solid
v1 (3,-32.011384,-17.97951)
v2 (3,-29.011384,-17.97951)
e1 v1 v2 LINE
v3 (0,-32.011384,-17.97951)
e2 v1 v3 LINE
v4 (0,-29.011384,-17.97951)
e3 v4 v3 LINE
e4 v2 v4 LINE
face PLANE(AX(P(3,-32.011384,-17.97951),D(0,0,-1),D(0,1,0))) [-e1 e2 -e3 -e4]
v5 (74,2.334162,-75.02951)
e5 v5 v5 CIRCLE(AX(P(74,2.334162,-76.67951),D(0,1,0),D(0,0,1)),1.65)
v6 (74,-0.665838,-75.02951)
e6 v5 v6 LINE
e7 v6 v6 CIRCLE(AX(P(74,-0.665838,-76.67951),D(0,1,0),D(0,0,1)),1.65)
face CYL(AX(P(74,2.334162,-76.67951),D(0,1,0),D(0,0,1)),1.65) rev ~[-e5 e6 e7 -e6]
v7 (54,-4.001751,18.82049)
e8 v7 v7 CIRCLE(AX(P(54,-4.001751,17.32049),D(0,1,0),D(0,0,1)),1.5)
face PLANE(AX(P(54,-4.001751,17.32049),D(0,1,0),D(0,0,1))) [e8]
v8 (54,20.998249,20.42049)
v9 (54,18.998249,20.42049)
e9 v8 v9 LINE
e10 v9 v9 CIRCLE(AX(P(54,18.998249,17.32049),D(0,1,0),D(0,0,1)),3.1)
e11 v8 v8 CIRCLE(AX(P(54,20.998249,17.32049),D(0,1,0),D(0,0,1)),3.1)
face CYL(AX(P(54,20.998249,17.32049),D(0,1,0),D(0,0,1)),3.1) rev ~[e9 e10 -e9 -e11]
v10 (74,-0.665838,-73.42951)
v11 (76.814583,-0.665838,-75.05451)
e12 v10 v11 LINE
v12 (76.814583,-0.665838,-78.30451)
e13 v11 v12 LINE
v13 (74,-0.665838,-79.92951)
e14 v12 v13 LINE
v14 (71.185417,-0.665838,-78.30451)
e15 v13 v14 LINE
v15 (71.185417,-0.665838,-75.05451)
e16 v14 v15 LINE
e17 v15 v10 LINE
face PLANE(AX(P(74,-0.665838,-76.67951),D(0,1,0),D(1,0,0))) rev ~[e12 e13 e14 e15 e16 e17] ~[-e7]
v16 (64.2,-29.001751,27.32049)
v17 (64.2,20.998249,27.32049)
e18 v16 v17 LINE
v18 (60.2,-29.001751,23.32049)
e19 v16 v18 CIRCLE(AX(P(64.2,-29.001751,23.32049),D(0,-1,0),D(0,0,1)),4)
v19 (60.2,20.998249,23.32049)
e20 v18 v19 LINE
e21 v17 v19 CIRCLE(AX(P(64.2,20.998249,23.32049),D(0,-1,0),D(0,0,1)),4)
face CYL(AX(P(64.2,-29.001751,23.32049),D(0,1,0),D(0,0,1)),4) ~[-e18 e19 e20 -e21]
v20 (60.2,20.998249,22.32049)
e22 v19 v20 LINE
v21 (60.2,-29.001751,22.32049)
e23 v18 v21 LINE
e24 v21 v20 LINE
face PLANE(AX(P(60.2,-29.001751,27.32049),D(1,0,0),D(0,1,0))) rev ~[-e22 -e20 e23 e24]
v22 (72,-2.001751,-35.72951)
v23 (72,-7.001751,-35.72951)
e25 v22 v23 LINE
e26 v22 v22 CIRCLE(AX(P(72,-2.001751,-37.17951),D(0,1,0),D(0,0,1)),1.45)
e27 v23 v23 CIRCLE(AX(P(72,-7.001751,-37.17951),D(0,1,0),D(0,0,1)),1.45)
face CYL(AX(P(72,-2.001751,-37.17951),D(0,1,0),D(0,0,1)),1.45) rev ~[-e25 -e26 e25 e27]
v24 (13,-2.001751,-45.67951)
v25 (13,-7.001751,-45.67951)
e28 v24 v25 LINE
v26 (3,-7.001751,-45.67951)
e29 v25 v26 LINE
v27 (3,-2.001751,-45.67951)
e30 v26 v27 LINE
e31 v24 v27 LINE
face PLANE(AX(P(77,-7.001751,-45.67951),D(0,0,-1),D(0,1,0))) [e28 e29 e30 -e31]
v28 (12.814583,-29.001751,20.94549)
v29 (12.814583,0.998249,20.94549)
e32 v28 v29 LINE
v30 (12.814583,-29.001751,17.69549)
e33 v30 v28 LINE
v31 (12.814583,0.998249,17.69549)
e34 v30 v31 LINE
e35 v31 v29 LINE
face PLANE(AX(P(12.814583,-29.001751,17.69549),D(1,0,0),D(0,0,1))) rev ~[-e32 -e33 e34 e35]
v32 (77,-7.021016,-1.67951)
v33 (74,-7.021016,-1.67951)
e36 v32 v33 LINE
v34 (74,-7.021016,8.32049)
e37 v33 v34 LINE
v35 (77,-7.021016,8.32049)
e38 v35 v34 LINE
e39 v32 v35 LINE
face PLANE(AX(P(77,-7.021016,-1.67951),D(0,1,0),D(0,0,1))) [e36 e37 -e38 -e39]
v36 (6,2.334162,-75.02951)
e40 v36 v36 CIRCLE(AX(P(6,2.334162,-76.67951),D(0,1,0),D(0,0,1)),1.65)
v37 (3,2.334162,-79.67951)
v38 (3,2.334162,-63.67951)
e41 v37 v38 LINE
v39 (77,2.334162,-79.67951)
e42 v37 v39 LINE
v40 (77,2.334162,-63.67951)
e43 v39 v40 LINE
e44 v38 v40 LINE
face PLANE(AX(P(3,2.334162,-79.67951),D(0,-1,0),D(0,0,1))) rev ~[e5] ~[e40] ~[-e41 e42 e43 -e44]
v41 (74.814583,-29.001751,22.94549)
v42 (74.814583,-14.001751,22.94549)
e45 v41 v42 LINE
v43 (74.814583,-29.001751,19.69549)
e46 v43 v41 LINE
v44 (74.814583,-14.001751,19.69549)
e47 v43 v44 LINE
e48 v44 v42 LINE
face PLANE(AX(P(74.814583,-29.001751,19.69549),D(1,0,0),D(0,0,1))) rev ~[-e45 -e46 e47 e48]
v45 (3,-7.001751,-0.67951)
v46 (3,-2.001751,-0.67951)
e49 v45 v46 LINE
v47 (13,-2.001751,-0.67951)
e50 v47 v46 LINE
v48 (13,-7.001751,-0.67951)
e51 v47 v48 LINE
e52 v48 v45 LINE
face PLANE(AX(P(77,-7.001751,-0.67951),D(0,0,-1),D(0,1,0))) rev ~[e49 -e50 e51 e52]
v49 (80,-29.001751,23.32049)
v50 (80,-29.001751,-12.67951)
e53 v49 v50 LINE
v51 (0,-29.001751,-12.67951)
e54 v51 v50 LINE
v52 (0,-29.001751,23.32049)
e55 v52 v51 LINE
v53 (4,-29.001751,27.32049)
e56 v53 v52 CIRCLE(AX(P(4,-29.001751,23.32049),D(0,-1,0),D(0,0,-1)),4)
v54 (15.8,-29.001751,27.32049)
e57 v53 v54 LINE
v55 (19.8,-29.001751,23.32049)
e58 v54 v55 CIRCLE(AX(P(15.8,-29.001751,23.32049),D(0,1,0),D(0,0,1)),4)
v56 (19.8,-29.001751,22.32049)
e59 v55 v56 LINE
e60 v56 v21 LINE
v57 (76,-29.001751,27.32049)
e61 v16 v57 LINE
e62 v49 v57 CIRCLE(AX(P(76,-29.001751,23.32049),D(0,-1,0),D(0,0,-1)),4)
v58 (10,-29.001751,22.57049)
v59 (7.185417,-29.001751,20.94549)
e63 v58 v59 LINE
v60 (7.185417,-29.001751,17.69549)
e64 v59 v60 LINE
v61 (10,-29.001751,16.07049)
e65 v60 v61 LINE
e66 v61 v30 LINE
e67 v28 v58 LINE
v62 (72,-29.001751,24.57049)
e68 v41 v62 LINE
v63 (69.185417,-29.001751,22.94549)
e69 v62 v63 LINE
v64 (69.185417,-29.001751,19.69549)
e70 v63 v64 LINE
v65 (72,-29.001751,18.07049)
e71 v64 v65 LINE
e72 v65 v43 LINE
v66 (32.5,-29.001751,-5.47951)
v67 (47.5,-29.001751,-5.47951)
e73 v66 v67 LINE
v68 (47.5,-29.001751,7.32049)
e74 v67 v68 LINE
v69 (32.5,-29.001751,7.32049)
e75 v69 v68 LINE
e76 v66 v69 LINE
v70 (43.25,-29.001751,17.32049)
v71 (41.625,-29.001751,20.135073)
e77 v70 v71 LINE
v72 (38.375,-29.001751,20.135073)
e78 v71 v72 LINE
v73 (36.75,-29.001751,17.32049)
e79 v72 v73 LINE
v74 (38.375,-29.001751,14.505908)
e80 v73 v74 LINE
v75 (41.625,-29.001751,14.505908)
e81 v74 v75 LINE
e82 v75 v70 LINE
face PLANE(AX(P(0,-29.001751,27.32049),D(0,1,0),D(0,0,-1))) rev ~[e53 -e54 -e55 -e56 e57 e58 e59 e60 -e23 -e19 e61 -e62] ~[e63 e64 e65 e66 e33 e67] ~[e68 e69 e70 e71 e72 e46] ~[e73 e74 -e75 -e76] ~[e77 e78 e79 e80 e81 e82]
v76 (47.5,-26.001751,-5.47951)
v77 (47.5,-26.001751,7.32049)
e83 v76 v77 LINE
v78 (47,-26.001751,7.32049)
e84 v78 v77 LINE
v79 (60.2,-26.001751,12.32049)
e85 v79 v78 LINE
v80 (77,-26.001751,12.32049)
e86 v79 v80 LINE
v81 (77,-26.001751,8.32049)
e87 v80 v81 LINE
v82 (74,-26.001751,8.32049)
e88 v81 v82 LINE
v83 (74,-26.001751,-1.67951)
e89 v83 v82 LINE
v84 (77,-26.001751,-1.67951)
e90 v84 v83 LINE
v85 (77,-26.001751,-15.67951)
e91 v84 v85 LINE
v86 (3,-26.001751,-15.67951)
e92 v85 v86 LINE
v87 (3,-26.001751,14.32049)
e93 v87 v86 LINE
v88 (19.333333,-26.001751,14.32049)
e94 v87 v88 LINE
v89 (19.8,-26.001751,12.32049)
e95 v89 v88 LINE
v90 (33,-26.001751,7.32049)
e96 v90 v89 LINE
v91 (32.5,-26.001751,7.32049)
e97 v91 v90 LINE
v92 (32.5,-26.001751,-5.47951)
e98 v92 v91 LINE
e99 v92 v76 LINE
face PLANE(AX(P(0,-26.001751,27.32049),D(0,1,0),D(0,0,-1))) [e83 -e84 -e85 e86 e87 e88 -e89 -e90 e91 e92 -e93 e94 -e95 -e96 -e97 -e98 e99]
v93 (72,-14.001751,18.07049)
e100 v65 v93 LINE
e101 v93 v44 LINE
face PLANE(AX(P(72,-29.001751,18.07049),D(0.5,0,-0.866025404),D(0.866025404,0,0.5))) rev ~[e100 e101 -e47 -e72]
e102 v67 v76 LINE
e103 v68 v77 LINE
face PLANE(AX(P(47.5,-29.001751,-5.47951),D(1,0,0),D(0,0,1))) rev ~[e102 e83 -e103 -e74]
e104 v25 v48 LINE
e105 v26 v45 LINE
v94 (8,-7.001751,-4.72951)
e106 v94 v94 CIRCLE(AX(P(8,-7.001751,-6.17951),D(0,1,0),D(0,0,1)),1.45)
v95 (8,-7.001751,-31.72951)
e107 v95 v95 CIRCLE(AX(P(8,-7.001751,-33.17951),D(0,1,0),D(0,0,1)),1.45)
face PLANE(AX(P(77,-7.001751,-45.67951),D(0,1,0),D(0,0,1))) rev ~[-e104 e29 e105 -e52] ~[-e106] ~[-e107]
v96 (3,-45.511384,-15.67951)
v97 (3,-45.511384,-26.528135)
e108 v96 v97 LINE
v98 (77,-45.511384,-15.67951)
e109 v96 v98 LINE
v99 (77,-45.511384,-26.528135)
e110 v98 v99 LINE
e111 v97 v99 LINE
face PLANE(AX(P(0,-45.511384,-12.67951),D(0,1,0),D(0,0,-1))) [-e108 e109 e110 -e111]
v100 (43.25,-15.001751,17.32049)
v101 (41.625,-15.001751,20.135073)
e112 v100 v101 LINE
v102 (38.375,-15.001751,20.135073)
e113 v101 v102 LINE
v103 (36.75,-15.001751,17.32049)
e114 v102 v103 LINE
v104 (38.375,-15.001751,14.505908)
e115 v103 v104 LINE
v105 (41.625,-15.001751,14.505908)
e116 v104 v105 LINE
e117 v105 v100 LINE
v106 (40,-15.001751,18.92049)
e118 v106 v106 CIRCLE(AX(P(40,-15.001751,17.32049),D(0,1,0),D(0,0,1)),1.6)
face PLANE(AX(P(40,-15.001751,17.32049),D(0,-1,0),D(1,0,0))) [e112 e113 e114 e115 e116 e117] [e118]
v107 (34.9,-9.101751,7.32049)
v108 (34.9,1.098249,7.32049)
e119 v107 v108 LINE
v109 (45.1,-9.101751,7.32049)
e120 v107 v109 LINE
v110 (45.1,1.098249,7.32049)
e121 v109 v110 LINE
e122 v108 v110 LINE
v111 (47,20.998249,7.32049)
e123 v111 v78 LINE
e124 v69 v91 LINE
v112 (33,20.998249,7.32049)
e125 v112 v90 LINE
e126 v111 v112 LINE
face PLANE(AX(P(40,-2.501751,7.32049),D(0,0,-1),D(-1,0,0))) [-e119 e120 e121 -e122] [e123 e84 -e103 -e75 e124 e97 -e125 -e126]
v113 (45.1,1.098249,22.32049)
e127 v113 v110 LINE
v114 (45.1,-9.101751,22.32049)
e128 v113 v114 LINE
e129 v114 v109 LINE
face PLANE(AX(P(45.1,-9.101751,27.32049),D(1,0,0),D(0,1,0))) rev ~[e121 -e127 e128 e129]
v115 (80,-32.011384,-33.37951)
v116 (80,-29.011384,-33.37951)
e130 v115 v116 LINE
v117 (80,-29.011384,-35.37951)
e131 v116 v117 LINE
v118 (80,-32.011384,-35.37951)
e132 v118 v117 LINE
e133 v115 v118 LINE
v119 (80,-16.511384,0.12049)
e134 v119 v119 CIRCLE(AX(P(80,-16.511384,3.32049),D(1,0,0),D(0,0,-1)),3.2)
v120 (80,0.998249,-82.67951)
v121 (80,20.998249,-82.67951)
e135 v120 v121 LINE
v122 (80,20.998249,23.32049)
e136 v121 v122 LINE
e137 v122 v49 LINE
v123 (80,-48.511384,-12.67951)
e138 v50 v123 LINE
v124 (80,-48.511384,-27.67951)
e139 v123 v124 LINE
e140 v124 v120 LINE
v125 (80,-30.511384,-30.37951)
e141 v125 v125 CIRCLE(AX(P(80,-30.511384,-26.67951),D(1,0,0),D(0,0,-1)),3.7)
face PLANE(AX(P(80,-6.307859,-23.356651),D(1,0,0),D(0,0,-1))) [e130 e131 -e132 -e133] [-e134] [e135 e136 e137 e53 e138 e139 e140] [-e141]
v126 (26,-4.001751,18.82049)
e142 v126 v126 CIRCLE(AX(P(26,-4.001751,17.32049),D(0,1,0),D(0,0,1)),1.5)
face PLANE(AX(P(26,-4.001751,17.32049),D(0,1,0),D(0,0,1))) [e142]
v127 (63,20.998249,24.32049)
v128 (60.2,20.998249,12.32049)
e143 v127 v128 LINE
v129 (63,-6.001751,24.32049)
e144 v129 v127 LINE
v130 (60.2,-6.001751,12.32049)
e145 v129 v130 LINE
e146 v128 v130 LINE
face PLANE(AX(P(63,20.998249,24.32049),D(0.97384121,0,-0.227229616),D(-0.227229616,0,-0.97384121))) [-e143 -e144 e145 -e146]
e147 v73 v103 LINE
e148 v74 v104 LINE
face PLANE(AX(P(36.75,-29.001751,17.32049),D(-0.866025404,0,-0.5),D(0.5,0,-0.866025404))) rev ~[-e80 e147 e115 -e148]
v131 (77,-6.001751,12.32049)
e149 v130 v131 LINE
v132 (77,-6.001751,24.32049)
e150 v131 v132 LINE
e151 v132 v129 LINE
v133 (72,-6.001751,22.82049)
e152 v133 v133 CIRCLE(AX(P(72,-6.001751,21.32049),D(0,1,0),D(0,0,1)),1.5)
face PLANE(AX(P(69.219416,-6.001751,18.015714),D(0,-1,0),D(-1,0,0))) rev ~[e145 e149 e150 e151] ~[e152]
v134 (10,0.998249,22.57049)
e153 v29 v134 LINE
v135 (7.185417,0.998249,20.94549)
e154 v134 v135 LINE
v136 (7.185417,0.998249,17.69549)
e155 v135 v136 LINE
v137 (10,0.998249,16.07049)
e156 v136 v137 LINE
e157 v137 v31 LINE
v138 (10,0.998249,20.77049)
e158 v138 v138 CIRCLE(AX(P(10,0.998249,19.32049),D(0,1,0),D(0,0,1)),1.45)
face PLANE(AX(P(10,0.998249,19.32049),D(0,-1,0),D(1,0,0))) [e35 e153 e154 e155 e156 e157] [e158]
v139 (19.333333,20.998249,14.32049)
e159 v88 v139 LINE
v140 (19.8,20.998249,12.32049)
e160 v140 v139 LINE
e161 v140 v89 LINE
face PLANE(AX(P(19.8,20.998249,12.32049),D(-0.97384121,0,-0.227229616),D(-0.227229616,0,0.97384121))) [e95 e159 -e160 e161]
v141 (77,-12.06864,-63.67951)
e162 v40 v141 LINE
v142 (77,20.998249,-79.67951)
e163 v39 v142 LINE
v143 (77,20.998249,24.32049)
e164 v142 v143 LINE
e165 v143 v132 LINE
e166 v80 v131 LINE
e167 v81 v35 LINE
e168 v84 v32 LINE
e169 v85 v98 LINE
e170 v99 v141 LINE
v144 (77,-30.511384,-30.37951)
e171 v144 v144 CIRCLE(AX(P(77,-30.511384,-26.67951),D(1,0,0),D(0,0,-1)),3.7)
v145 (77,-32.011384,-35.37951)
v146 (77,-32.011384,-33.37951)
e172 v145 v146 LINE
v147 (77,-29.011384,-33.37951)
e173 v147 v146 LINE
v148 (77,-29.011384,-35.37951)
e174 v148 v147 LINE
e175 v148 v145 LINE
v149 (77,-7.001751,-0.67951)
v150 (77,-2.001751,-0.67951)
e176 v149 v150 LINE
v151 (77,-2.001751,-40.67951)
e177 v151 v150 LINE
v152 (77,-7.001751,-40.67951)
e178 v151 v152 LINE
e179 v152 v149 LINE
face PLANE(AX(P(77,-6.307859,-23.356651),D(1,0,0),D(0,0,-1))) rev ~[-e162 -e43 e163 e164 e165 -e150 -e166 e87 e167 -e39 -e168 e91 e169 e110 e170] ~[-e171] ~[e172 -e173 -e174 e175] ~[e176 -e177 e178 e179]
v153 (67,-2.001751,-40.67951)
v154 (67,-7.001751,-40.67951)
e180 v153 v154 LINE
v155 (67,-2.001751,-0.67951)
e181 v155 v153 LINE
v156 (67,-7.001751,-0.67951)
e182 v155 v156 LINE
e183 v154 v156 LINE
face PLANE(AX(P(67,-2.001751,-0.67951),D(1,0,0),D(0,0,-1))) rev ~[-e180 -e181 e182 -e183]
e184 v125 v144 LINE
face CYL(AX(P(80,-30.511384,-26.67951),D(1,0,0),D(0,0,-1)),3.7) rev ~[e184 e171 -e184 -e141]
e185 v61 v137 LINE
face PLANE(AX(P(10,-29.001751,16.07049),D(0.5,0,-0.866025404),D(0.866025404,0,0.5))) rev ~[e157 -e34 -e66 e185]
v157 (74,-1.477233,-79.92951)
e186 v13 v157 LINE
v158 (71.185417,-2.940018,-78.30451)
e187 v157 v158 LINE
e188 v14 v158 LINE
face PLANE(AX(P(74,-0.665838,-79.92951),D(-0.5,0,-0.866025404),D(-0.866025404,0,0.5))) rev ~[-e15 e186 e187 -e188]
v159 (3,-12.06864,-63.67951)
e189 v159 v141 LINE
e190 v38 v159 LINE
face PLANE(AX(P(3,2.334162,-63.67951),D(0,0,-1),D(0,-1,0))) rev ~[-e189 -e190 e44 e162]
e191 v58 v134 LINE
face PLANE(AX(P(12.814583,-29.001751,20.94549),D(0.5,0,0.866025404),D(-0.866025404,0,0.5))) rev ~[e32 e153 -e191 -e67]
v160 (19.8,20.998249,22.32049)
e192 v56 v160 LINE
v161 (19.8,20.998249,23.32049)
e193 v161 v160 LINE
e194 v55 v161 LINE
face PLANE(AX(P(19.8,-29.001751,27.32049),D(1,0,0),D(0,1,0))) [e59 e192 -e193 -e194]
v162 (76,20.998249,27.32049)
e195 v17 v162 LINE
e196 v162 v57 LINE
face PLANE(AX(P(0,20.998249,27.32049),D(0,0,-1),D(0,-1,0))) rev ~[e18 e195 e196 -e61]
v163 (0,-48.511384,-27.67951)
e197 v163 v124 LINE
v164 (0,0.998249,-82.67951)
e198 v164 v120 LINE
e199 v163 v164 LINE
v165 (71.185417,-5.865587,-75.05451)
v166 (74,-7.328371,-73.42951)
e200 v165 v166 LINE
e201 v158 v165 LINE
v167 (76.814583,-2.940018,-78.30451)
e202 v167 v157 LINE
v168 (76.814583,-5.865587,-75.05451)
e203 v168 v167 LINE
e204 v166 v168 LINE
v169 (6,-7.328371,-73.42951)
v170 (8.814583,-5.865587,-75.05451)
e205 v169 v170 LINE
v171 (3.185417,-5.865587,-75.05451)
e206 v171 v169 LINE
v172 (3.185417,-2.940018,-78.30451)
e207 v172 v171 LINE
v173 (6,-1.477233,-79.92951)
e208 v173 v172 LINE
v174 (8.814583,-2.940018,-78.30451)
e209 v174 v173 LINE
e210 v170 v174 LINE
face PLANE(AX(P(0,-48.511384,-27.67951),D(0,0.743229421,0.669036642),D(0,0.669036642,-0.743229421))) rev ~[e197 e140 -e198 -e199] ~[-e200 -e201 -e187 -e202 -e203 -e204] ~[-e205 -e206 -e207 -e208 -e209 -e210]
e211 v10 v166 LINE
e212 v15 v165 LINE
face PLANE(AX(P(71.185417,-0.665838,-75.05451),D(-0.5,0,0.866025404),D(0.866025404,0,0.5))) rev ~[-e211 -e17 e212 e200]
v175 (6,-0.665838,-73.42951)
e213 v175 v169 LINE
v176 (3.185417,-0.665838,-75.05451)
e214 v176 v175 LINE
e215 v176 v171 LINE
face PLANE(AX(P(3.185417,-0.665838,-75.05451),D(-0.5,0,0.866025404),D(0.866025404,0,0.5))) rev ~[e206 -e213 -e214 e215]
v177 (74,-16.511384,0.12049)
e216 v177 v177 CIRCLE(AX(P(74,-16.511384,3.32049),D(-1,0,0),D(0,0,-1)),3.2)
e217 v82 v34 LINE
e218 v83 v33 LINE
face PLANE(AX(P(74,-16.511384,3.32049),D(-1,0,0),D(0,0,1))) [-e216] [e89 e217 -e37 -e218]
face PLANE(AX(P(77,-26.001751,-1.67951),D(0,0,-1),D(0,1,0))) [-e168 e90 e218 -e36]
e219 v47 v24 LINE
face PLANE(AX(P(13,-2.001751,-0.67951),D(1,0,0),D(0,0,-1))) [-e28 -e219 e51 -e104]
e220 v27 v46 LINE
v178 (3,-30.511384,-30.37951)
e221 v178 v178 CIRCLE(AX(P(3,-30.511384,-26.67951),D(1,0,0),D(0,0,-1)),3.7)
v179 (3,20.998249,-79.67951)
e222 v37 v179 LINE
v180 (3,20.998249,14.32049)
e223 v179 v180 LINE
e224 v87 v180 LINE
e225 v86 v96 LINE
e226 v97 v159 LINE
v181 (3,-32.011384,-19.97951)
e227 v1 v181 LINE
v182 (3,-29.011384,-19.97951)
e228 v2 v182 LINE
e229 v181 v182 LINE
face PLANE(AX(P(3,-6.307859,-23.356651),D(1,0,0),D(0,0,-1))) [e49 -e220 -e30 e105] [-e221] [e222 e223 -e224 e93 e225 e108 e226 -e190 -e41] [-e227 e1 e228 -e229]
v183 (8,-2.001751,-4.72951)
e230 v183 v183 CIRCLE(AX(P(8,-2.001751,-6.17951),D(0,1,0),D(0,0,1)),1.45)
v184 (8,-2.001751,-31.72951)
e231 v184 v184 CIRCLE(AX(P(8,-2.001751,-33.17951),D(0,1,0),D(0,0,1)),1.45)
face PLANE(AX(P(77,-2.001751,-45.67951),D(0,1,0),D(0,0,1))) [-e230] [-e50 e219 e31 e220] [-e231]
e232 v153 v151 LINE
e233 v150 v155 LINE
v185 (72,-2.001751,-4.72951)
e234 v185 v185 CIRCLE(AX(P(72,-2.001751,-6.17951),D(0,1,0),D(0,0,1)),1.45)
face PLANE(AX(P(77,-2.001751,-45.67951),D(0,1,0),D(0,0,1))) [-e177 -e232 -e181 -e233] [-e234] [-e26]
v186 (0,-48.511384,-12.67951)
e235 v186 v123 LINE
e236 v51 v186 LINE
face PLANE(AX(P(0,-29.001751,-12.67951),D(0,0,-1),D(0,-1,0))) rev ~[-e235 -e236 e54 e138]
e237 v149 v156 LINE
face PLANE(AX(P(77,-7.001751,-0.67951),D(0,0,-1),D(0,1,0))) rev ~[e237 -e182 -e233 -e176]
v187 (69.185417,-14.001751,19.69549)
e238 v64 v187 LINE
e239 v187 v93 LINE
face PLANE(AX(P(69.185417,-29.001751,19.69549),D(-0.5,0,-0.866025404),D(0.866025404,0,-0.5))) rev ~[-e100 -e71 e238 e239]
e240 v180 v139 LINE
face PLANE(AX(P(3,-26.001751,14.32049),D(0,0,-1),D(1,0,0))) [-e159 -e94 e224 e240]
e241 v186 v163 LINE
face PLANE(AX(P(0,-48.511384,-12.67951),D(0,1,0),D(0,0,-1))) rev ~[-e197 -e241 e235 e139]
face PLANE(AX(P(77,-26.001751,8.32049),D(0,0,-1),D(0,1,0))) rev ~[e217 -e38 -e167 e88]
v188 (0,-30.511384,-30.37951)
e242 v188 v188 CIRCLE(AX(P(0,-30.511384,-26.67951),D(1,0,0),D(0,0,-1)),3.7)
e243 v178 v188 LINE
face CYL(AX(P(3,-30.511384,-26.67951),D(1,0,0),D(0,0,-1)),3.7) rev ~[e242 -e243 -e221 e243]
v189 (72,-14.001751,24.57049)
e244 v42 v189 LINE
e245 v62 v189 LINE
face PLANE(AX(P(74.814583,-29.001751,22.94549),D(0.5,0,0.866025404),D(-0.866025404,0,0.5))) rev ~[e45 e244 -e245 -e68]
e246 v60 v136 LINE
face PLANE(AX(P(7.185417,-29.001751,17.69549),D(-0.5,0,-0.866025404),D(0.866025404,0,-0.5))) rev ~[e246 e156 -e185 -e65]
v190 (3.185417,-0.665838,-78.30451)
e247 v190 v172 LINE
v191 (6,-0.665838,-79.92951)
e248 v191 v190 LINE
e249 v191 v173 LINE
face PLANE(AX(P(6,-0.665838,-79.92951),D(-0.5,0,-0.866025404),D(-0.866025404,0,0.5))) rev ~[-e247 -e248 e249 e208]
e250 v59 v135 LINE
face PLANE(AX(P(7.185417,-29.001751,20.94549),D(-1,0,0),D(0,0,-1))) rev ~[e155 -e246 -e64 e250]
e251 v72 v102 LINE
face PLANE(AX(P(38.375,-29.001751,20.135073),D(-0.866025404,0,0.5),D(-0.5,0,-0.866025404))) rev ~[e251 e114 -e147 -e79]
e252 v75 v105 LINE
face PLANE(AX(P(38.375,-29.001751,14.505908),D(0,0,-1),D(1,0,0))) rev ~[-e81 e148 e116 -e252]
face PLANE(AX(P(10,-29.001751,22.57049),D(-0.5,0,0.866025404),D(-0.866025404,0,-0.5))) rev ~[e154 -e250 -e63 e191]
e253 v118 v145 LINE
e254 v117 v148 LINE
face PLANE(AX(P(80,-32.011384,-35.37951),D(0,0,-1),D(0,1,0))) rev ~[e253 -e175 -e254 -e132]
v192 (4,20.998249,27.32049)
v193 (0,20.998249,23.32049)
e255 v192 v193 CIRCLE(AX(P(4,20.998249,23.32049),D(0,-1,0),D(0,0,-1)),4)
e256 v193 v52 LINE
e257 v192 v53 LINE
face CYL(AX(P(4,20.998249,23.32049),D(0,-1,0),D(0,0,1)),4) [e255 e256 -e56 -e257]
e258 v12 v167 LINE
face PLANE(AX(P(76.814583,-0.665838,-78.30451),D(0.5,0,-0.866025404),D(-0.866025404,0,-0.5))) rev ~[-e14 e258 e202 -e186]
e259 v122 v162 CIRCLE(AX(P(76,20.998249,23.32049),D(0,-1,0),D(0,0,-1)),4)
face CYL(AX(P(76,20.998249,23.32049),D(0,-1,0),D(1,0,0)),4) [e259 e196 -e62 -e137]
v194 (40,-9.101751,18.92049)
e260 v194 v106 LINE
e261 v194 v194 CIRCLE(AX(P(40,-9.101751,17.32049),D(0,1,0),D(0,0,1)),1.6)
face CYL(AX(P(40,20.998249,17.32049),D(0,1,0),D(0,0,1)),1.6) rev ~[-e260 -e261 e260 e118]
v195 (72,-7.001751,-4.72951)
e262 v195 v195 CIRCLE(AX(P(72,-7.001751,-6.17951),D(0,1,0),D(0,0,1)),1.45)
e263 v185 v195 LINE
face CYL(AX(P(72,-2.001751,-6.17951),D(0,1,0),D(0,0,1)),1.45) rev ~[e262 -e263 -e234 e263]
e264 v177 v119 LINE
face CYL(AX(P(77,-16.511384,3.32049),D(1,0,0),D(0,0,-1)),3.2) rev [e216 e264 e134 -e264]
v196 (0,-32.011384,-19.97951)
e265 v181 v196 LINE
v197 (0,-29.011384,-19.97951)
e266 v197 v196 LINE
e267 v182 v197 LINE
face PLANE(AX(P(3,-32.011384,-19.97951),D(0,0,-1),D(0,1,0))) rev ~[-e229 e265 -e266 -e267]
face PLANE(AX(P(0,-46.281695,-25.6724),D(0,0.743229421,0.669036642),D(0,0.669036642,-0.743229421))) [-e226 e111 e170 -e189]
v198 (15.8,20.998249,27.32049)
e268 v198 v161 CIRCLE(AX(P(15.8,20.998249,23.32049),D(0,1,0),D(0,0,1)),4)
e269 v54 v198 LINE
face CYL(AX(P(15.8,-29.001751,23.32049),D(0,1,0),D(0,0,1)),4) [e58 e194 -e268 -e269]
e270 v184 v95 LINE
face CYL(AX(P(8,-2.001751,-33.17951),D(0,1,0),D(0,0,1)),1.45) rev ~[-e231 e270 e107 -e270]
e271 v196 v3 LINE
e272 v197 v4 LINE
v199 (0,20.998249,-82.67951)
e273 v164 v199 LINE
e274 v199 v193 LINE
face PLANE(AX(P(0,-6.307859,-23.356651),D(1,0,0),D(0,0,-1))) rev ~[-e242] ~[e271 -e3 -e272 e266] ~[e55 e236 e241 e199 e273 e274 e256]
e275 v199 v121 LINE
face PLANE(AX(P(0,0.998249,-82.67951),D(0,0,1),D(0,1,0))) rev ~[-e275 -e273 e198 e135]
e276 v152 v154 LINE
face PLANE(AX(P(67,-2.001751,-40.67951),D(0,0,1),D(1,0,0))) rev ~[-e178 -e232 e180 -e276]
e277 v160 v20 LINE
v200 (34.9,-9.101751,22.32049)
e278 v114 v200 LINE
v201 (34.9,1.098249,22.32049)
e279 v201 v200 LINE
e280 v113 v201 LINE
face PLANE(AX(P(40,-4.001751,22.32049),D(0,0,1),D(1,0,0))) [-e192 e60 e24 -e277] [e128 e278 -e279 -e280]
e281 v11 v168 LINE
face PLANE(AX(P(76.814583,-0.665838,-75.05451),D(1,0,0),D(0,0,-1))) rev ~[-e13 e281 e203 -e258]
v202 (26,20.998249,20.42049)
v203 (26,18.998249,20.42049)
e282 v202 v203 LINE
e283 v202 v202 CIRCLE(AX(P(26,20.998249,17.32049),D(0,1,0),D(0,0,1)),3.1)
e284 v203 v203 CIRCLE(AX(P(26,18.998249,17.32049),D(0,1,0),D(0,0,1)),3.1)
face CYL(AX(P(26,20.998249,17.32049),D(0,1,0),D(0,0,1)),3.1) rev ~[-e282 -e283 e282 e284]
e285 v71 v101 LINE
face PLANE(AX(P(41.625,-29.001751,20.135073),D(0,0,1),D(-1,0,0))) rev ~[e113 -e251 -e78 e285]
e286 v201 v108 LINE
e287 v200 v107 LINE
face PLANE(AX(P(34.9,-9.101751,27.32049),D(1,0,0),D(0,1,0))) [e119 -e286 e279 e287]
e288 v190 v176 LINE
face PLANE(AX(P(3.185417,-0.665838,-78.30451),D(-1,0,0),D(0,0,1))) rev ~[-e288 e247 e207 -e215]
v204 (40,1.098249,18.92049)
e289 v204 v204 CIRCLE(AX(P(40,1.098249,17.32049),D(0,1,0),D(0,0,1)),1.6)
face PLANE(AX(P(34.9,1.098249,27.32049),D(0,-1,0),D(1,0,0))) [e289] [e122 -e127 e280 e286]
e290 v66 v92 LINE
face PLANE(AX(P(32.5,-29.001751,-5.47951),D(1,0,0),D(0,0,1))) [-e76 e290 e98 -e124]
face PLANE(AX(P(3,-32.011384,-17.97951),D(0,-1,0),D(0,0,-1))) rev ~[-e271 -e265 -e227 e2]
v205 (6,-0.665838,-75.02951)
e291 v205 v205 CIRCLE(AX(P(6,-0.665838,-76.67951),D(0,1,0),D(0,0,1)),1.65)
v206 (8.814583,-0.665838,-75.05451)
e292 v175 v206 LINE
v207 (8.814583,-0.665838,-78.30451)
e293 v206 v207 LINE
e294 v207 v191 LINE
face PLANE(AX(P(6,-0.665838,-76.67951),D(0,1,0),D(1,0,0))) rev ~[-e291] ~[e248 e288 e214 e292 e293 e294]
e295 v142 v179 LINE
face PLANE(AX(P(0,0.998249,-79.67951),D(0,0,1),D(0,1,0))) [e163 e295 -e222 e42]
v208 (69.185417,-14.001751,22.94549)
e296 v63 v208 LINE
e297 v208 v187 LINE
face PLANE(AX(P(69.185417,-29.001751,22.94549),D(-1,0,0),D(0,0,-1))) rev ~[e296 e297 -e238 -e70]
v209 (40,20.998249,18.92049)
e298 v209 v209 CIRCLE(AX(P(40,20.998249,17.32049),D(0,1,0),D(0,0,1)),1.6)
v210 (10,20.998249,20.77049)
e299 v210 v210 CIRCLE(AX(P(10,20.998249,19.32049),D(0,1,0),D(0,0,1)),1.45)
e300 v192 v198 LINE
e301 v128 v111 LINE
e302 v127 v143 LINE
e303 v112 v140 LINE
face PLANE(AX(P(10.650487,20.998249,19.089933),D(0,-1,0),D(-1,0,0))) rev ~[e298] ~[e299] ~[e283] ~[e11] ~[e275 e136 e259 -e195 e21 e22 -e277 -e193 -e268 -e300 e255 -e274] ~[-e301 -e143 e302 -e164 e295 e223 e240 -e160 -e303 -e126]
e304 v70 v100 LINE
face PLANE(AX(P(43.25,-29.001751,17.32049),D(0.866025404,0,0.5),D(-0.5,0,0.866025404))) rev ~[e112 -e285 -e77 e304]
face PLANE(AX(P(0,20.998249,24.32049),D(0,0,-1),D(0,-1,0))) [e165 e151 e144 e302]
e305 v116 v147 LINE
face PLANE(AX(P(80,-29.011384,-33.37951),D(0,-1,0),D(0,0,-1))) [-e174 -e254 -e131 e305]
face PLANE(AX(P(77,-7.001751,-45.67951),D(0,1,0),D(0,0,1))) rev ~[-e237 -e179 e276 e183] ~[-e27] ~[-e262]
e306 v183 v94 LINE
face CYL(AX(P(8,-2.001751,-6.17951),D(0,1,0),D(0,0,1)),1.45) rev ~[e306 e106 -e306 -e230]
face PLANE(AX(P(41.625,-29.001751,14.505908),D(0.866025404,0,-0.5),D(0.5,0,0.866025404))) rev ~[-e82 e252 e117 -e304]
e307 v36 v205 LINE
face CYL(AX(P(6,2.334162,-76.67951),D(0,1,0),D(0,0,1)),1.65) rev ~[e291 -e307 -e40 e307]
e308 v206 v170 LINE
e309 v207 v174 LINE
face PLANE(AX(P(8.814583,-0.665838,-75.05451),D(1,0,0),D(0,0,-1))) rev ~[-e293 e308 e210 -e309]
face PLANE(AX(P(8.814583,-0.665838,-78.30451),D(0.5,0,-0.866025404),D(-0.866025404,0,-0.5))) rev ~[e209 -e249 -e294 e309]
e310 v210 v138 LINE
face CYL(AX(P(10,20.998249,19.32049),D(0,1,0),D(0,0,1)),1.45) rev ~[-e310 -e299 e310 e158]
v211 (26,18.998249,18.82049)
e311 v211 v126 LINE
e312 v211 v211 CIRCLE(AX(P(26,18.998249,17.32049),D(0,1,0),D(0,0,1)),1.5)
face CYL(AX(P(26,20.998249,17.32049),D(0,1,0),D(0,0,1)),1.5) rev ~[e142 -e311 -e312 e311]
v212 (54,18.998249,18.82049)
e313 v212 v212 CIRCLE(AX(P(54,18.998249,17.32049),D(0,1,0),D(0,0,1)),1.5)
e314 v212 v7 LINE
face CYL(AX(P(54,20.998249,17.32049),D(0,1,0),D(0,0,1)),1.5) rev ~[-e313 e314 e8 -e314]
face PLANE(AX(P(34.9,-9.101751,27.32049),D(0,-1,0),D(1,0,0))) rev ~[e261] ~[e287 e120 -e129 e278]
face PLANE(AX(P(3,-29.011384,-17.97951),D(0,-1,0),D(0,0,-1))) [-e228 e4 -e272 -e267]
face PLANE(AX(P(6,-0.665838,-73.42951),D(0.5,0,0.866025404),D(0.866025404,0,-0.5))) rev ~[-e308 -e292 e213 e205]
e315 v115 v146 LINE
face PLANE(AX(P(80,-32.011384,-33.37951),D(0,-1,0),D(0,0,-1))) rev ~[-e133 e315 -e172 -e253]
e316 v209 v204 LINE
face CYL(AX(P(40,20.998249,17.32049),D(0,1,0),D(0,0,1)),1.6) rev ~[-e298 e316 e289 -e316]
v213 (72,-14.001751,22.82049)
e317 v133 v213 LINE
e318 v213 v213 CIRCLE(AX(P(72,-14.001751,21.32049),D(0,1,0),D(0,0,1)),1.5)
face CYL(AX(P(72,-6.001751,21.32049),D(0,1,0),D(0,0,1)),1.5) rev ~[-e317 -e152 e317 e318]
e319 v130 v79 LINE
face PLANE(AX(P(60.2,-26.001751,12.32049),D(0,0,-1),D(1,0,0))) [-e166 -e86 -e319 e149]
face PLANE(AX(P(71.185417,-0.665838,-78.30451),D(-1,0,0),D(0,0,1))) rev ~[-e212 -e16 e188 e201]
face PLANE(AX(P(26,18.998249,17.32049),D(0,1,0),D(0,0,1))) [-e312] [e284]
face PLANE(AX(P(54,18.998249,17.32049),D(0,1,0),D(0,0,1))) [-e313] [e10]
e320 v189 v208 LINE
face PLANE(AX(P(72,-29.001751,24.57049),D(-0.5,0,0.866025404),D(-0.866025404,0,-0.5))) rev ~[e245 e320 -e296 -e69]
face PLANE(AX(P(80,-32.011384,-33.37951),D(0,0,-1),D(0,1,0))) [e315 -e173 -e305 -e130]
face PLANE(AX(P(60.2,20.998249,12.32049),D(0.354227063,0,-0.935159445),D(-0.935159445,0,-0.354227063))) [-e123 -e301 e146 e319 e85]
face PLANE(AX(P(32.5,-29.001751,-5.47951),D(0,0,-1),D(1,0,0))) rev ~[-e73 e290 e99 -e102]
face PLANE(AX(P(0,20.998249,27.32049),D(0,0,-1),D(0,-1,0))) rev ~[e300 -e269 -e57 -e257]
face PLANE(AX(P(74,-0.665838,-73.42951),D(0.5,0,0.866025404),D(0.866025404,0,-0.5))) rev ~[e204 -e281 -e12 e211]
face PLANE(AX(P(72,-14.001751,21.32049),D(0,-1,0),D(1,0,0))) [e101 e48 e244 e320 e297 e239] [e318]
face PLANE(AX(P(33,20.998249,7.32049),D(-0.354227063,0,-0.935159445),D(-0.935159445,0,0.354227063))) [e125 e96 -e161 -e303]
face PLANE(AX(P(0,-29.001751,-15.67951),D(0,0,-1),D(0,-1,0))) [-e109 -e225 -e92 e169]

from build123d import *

# Parameters (mm, degrees)
BOSS_EXTRUDE1_DEPTH = 80
SHELL1_T            = -3
SKETCH3_W           = 46
SKETCH3_H           = 47
BOSS_EXTRUDE2_DEPTH = 17
SKETCH4_W           = 10.2
SKETCH4_H           = 10.2
CUT_EXTRUDE1_DEPTH  = 20
SKETCH6_W           = 15
SKETCH6_H           = 12.8
CUT_EXTRUDE2_DEPTH  = 3
SKETCH7_W           = 40.4
SKETCH7_H           = 50
CUT_EXTRUDE3_DEPTH  = 5
FILLET1_R           = 4
CUT_EXTRUDE7_DEPTH  = 47
SKETCH13_R          = 1.5
CUT_EXTRUDE8_DEPTH  = 25
SKETCH14_R          = 3.1
CUT_EXTRUDE9_DEPTH  = 2
SKETCH17_W          = 45
SKETCH17_H          = 5
BOSS_EXTRUDE5_DEPTH = 74
CUT_EXTRUDE10_REACH = 126.093
SKETCH18_W          = 54
SKETCH18_H          = 45
CUT_EXTRUDE11_REACH = 126.093
SKETCH19_R          = 1.45
BOSS_EXTRUDE6_DEPTH = 47
SKETCH22_R          = 1.45
CUT_EXTRUDE12_DEPTH = 135.415364765
CUT_EXTRUDE13_REACH = 126.857
SKETCH24_R          = 3.7
SKETCH24_W          = 2
SKETCH24_H          = 3
BOSS_EXTRUDE7_DEPTH = 74
SKETCH27_R          = 1.65
CUT_EXTRUDE14_DEPTH = 10
CUT_EXTRUDE15_START = -3
CUT_EXTRUDE15_DEPTH = 32
CUT_EXTRUDE16_DEPTH = 30
BOSS_EXTRUDE8_DEPTH = 20
SKETCH31_R          = 1.5
CUT_EXTRUDE17_DEPTH = 123.649786567
CUT_EXTRUDE18_DEPTH = 15
CUT_EXTRUDE19_REACH = 126.093
SKETCH33_W          = 10
SKETCH33_H          = 5
SKETCH34_R          = 1.6
CUT_EXTRUDE20_DEPTH = 135.415364765
CUT_EXTRUDE22_DEPTH = 14
CUT_EXTRUDE23_REACH = 126.857
SKETCH37_R          = 3.2
SKETCH38_W          = 10
SKETCH38_H          = 18.980735551
SKETCH38_R          = 3.2
BOSS_EXTRUDE9_DEPTH = 3
CUT_EXTRUDE24_REACH = 124.956
SKETCH40_R          = 3.7
SKETCH40_W          = 2
SKETCH40_H          = 3


with BuildPart() as part:
    # Sketch2 → Boss-Extrude1 (new body)
    with BuildSketch(Plane(origin=(0, 0, 0), x_dir=(0, 0, -1), z_dir=(1, 0, 0))):
        Polygon((-27.320490368, 20.998248687), (-27.320490368, -29.001751313), (12.679509632, -29.001751313), (12.679509632, -48.511383538), (27.679509632, -48.511383538), (82.679509632, 0.998248687), (82.679509632, 20.998248687), align=None)
    extrude(amount=BOSS_EXTRUDE1_DEPTH)

    # Shell1
    shell1_openings = [part.faces().sort_by_distance(p)[0] for p in [
        (40, 20.998248687, -27.679509632),
    ]]
    offset(amount=SHELL1_T, openings=shell1_openings, kind=Kind.INTERSECTION)

    # Sketch3 → Boss-Extrude2 (add)
    with BuildSketch(Plane(origin=(0, 0, 24.320490368), x_dir=(-1, 0, 0), z_dir=(0, 0, -1))):
        with Locations((-40, -2.501751313)):
            Rectangle(SKETCH3_W, SKETCH3_H)
    extrude(amount=BOSS_EXTRUDE2_DEPTH)

    # Sketch4 → Cut-Extrude1 (cut)
    with BuildSketch(Plane.XY.offset(27.320490368)):
        with Locations((40, -4.001751313)):
            Rectangle(SKETCH4_W, SKETCH4_H)
    extrude(amount=-CUT_EXTRUDE1_DEPTH, mode=Mode.SUBTRACT)

    # Sketch6 → Cut-Extrude2 (cut)
    with BuildSketch(Plane.XZ.offset(29.001751313)):
        with Locations((40, 0.920490368)):
            Rectangle(SKETCH6_W, SKETCH6_H)
    extrude(amount=-CUT_EXTRUDE2_DEPTH, mode=Mode.SUBTRACT)

    # Sketch7 → Cut-Extrude3 (cut)
    with BuildSketch(Plane.XY.offset(27.320490368)):
        with Locations((40, -4.001751313)):
            Rectangle(SKETCH7_W, SKETCH7_H)
    extrude(amount=-CUT_EXTRUDE3_DEPTH, mode=Mode.SUBTRACT)

    # Fillet1
    fillet1_edges = [part.edges().sort_by_distance(p)[0] for p in [
        (80, -4.001751313, 27.320490368),
        (19.8, -4.001751313, 27.320490368),
        (0, -4.001751313, 27.320490368),
        (60.2, -4.001751313, 27.320490368),
    ]]
    fillet(fillet1_edges, radius=FILLET1_R)

    # Sketch12 → Cut-Extrude7 (cut)
    with BuildSketch(Plane(origin=(0, 20.998248687, 0), x_dir=(1, 0, 0), z_dir=(0, 1, 0))):
        Polygon((33, -7.320490368), (19.8, -12.320490368), (17, -24.320490368), (17, -7.320490368), align=None)
        Polygon((47, -7.320490368), (63, -7.320490368), (63, -24.320490368), (60.2, -12.320490368), align=None)
    extrude(amount=-CUT_EXTRUDE7_DEPTH, mode=Mode.SUBTRACT)

    # Sketch13 → Cut-Extrude8 (cut)
    with BuildSketch(Plane(origin=(0, 20.998248687, 0), x_dir=(1, 0, 0), z_dir=(0, 1, 0))):
        with Locations(Location((26, -17.320490368, 0), (0, 0, 270))):
            Circle(SKETCH13_R)
        with Locations(Location((54, -17.320490368, 0), (0, 0, 270))):
            Circle(SKETCH13_R)
    extrude(amount=-CUT_EXTRUDE8_DEPTH, mode=Mode.SUBTRACT)

    # Sketch14 → Cut-Extrude9 (cut)
    with BuildSketch(Plane(origin=(0, 20.998248687, 0), x_dir=(1, 0, 0), z_dir=(0, 1, 0))):
        with Locations(Location((26, -17.320490368, 0), (0, 0, 270))):
            Circle(SKETCH14_R)
        with Locations(Location((54, -17.320490368, 0), (0, 0, 270))):
            Circle(SKETCH14_R)
    extrude(amount=-CUT_EXTRUDE9_DEPTH, mode=Mode.SUBTRACT)

    # Sketch17 → Boss-Extrude5 (add)
    with BuildSketch(Plane.ZY.offset(-77)):
        with Locations((-23.179509632, -4.501751313)):
            Rectangle(SKETCH17_W, SKETCH17_H)
    extrude(amount=BOSS_EXTRUDE5_DEPTH)

    # Sketch18 → Cut-Extrude10 (cut, up to next)
    with BuildSketch(Plane(origin=(0, -2.001751313, 0), x_dir=(1, 0, 0), z_dir=(0, 1, 0)), mode=Mode.PRIVATE) as cut_extrude10_sk1:
        with Locations((40, 23.179509632)):
            Rectangle(SKETCH18_W, SKETCH18_H)
    cut_extrude10_tool1 = extrude(cut_extrude10_sk1.sketch, amount=-CUT_EXTRUDE10_REACH, mode=Mode.PRIVATE) & part.part
    add(cut_extrude10_tool1.solids().sort_by_distance((40, -2.001751, -23.17951))[0], mode=Mode.SUBTRACT)

    # Sketch19 → Cut-Extrude11 (cut, up to next)
    with BuildSketch(Plane(origin=(0, -2.001751313, 0), x_dir=(1, 0, 0), z_dir=(0, 1, 0)), mode=Mode.PRIVATE) as cut_extrude11_sk1:
        with Locations(Location((72, 37.179509632, 0), (0, 0, 270))):
            Circle(SKETCH19_R)
    cut_extrude11_tool1 = extrude(cut_extrude11_sk1.sketch, amount=-CUT_EXTRUDE11_REACH, mode=Mode.PRIVATE) & part.part
    # Sketch19 → Cut-Extrude11 (cut, up to next)
    with BuildSketch(Plane(origin=(0, -2.001751313, 0), x_dir=(1, 0, 0), z_dir=(0, 1, 0)), mode=Mode.PRIVATE) as cut_extrude11_sk2:
        with Locations(Location((72, 6.179509632, 0), (0, 0, 270))):
            Circle(SKETCH19_R)
    cut_extrude11_tool2 = extrude(cut_extrude11_sk2.sketch, amount=-CUT_EXTRUDE11_REACH, mode=Mode.PRIVATE) & part.part
    # Sketch19 → Cut-Extrude11 (cut, up to next)
    with BuildSketch(Plane(origin=(0, -2.001751313, 0), x_dir=(1, 0, 0), z_dir=(0, 1, 0)), mode=Mode.PRIVATE) as cut_extrude11_sk3:
        with Locations(Location((8, 33.179509632, 0), (0, 0, 270))):
            Circle(SKETCH19_R)
    cut_extrude11_tool3 = extrude(cut_extrude11_sk3.sketch, amount=-CUT_EXTRUDE11_REACH, mode=Mode.PRIVATE) & part.part
    # Sketch19 → Cut-Extrude11 (cut, up to next)
    with BuildSketch(Plane(origin=(0, -2.001751313, 0), x_dir=(1, 0, 0), z_dir=(0, 1, 0)), mode=Mode.PRIVATE) as cut_extrude11_sk4:
        with Locations(Location((8, 6.179509632, 0), (0, 0, 270))):
            Circle(SKETCH19_R)
    cut_extrude11_tool4 = extrude(cut_extrude11_sk4.sketch, amount=-CUT_EXTRUDE11_REACH, mode=Mode.PRIVATE) & part.part
    add(cut_extrude11_tool1.solids().sort_by_distance((72, -2.001751, -37.17951))[0], mode=Mode.SUBTRACT)
    add(cut_extrude11_tool2.solids().sort_by_distance((72, -2.001751, -6.17951))[0], mode=Mode.SUBTRACT)
    add(cut_extrude11_tool3.solids().sort_by_distance((8, -2.001751, -33.17951))[0], mode=Mode.SUBTRACT)
    add(cut_extrude11_tool4.solids().sort_by_distance((8, -2.001751, -6.17951))[0], mode=Mode.SUBTRACT)

    # Sketch21 → Boss-Extrude6 (add)
    with BuildSketch(Plane(origin=(0, -26.001751313, 0), x_dir=(1, 0, 0), z_dir=(0, 1, 0))):
        Polygon((3, -24.320490368), (3, -14.320490368), (19.333333333, -14.320490368), (17, -24.320490368), align=None)
    extrude(amount=BOSS_EXTRUDE6_DEPTH)

    # Sketch22 → Cut-Extrude12 (cut, through all)
    with BuildSketch(Plane(origin=(0, 20.998248687, 0), x_dir=(1, 0, 0), z_dir=(0, 1, 0))):
        with Locations(Location((10, -19.320490368, 0), (0, 0, 270))):
            Circle(SKETCH22_R)
    extrude(amount=-CUT_EXTRUDE12_DEPTH, mode=Mode.SUBTRACT)

    # Sketch24 → Cut-Extrude13 (cut, up to next)
    with BuildSketch(Plane(origin=(80, 0, 0), x_dir=(0, 0, -1), z_dir=(1, 0, 0)), mode=Mode.PRIVATE) as cut_extrude13_sk1:
        with Locations((26.679509632, -30.511383538)):
            Circle(SKETCH24_R)
    cut_extrude13_tool1 = extrude(cut_extrude13_sk1.sketch, amount=-CUT_EXTRUDE13_REACH, mode=Mode.PRIVATE) & part.part
    # Sketch24 → Cut-Extrude13 (cut, up to next)
    with BuildSketch(Plane(origin=(80, 0, 0), x_dir=(0, 0, -1), z_dir=(1, 0, 0)), mode=Mode.PRIVATE) as cut_extrude13_sk2:
        with Locations((34.379509632, -30.511383538)):
            Rectangle(SKETCH24_W, SKETCH24_H)
    cut_extrude13_tool2 = extrude(cut_extrude13_sk2.sketch, amount=-CUT_EXTRUDE13_REACH, mode=Mode.PRIVATE) & part.part
    add(cut_extrude13_tool1.solids().sort_by_distance((80, -30.511384, -26.67951))[0], mode=Mode.SUBTRACT)
    add(cut_extrude13_tool2.solids().sort_by_distance((80, -30.511384, -34.37951))[0], mode=Mode.SUBTRACT)

    # Sketch26 → Boss-Extrude7 (add)
    with BuildSketch(Plane(origin=(3, 0, 0), x_dir=(0, 0, -1), z_dir=(1, 0, 0))):
        Polygon((79.679509632, 2.334161996), (63.679509632, 2.334161996), (63.679509632, -12.068640106), align=None)
    extrude(amount=BOSS_EXTRUDE7_DEPTH)

    # Sketch27 → Cut-Extrude14 (cut)
    with BuildSketch(Plane(origin=(0, 2.334161996, 0), x_dir=(1, 0, 0), z_dir=(0, 1, 0))):
        with Locations(Location((6, 76.679509632, 0), (0, 0, 270))):
            Circle(SKETCH27_R)
        with Locations(Location((74, 76.679509632, 0), (0, 0, 270))):
            Circle(SKETCH27_R)
    extrude(amount=-CUT_EXTRUDE14_DEPTH, mode=Mode.SUBTRACT)

    # Sketch28 → Cut-Extrude15 (cut)
    with BuildSketch(Plane(origin=(0, 2.334161996, 0), x_dir=(1, 0, 0), z_dir=(0, 1, 0)).offset(CUT_EXTRUDE15_START)):
        Polygon((74, 79.929509632), (71.185417438, 78.304509632), (71.185417438, 75.054509632), (74, 73.429509632), (76.814582562, 75.054509632), (76.814582562, 78.304509632), align=None)
        Polygon((6, 73.429509632), (8.814582562, 75.054509632), (8.814582562, 78.304509632), (6, 79.929509632), (3.185417438, 78.304509632), (3.185417438, 75.054509632), align=None)
    extrude(amount=-CUT_EXTRUDE15_DEPTH, mode=Mode.SUBTRACT)

    # Sketch29 → Cut-Extrude16 (cut)
    with BuildSketch(Plane.XZ.offset(29.001751313)):
        Polygon((7.185417438, 17.695490368), (10, 16.070490368), (12.814582562, 17.695490368), (12.814582562, 20.945490368), (10, 22.570490368), (7.185417438, 20.945490368), align=None)
    extrude(amount=-CUT_EXTRUDE16_DEPTH, mode=Mode.SUBTRACT)

    # Sketch30 → Boss-Extrude8 (add)
    with BuildSketch(Plane(origin=(0, -26.001751313, 0), x_dir=(1, 0, 0), z_dir=(0, 1, 0))):
        Polygon((77, -24.320490368), (63, -24.320490368), (60.2, -12.320490368), (77, -12.320490368), align=None)
    extrude(amount=BOSS_EXTRUDE8_DEPTH)

    # Sketch31 → Cut-Extrude17 (cut, through all)
    with BuildSketch(Plane(origin=(0, -6.001751313, 0), x_dir=(1, 0, 0), z_dir=(0, 1, 0))):
        with Locations(Location((72, -21.320490368, 0), (0, 0, 270))):
            Circle(SKETCH31_R)
    extrude(amount=-CUT_EXTRUDE17_DEPTH, mode=Mode.SUBTRACT)

    # Sketch32 → Cut-Extrude18 (cut)
    with BuildSketch(Plane.XZ.offset(29.001751313)):
        Polygon((72, 24.570490368), (69.185417438, 22.945490368), (69.185417438, 19.695490368), (72, 18.070490368), (74.814582562, 19.695490368), (74.814582562, 22.945490368), align=None)
    extrude(amount=-CUT_EXTRUDE18_DEPTH, mode=Mode.SUBTRACT)

    # Sketch33 → Cut-Extrude19 (cut, up to next)
    with BuildSketch(Plane(origin=(0, -2.001751313, 0), x_dir=(1, 0, 0), z_dir=(0, 1, 0)), mode=Mode.PRIVATE) as cut_extrude19_sk1:
        with Locations((72, 43.179509632)):
            Rectangle(SKETCH33_W, SKETCH33_H)
    cut_extrude19_tool1 = extrude(cut_extrude19_sk1.sketch, amount=-CUT_EXTRUDE19_REACH, mode=Mode.PRIVATE) & part.part
    add(cut_extrude19_tool1.solids().sort_by_distance((72, -2.001751, -43.17951))[0], mode=Mode.SUBTRACT)

    # Sketch34 → Cut-Extrude20 (cut, through all)
    with BuildSketch(Plane(origin=(0, 20.998248687, 0), x_dir=(1, 0, 0), z_dir=(0, 1, 0))):
        with Locations(Location((40, -17.320490368, 0), (0, 0, 270))):
            Circle(SKETCH34_R)
    extrude(amount=-CUT_EXTRUDE20_DEPTH, mode=Mode.SUBTRACT)

    # Sketch36 → Cut-Extrude22 (cut)
    with BuildSketch(Plane.XZ.offset(29.001751313)):
        Polygon((38.375, 20.13507293), (36.75, 17.320490368), (38.375, 14.505907805), (41.625, 14.505907805), (43.25, 17.320490368), (41.625, 20.13507293), align=None)
    extrude(amount=-CUT_EXTRUDE22_DEPTH, mode=Mode.SUBTRACT)

    # Sketch37 → Cut-Extrude23 (cut, up to next)
    with BuildSketch(Plane(origin=(80, 0, 0), x_dir=(0, 0, -1), z_dir=(1, 0, 0)), mode=Mode.PRIVATE) as cut_extrude23_sk1:
        with Locations((-3.320490368, -16.511383538)):
            Circle(SKETCH37_R)
    cut_extrude23_tool1 = extrude(cut_extrude23_sk1.sketch, amount=-CUT_EXTRUDE23_REACH, mode=Mode.PRIVATE) & part.part
    add(cut_extrude23_tool1.solids().sort_by_distance((80, -16.511384, 3.32049))[0], mode=Mode.SUBTRACT)

    # Sketch38 → Boss-Extrude9 (add)
    with BuildSketch(Plane.ZY.offset(-77)):
        with Locations((3.320490368, -16.511383538)):
            Rectangle(SKETCH38_W, SKETCH38_H)
        with Locations(Location((3.320490368, -16.511383538, 0), (0, 0, 180))):
            Circle(SKETCH38_R, mode=Mode.SUBTRACT)
    extrude(amount=BOSS_EXTRUDE9_DEPTH)

    # Sketch40 → Cut-Extrude24 (cut, up to next)
    with BuildSketch(Plane(origin=(3, 0, 0), x_dir=(0, 0, -1), z_dir=(1, 0, 0)), mode=Mode.PRIVATE) as cut_extrude24_sk1:
        with Locations((26.679509632, -30.511383538)):
            Circle(SKETCH40_R)
    cut_extrude24_tool1 = extrude(cut_extrude24_sk1.sketch, amount=-CUT_EXTRUDE24_REACH, mode=Mode.PRIVATE) & part.part
    # Sketch40 → Cut-Extrude24 (cut, up to next)
    with BuildSketch(Plane(origin=(3, 0, 0), x_dir=(0, 0, -1), z_dir=(1, 0, 0)), mode=Mode.PRIVATE) as cut_extrude24_sk2:
        with Locations((18.979509632, -30.511383538)):
            Rectangle(SKETCH40_W, SKETCH40_H)
    cut_extrude24_tool2 = extrude(cut_extrude24_sk2.sketch, amount=-CUT_EXTRUDE24_REACH, mode=Mode.PRIVATE) & part.part
    add(cut_extrude24_tool1.solids().sort_by_distance((3, -30.511384, -26.67951))[0], mode=Mode.SUBTRACT)
    add(cut_extrude24_tool2.solids().sort_by_distance((3, -30.511384, -18.97951))[0], mode=Mode.SUBTRACT)


solid = part.part
